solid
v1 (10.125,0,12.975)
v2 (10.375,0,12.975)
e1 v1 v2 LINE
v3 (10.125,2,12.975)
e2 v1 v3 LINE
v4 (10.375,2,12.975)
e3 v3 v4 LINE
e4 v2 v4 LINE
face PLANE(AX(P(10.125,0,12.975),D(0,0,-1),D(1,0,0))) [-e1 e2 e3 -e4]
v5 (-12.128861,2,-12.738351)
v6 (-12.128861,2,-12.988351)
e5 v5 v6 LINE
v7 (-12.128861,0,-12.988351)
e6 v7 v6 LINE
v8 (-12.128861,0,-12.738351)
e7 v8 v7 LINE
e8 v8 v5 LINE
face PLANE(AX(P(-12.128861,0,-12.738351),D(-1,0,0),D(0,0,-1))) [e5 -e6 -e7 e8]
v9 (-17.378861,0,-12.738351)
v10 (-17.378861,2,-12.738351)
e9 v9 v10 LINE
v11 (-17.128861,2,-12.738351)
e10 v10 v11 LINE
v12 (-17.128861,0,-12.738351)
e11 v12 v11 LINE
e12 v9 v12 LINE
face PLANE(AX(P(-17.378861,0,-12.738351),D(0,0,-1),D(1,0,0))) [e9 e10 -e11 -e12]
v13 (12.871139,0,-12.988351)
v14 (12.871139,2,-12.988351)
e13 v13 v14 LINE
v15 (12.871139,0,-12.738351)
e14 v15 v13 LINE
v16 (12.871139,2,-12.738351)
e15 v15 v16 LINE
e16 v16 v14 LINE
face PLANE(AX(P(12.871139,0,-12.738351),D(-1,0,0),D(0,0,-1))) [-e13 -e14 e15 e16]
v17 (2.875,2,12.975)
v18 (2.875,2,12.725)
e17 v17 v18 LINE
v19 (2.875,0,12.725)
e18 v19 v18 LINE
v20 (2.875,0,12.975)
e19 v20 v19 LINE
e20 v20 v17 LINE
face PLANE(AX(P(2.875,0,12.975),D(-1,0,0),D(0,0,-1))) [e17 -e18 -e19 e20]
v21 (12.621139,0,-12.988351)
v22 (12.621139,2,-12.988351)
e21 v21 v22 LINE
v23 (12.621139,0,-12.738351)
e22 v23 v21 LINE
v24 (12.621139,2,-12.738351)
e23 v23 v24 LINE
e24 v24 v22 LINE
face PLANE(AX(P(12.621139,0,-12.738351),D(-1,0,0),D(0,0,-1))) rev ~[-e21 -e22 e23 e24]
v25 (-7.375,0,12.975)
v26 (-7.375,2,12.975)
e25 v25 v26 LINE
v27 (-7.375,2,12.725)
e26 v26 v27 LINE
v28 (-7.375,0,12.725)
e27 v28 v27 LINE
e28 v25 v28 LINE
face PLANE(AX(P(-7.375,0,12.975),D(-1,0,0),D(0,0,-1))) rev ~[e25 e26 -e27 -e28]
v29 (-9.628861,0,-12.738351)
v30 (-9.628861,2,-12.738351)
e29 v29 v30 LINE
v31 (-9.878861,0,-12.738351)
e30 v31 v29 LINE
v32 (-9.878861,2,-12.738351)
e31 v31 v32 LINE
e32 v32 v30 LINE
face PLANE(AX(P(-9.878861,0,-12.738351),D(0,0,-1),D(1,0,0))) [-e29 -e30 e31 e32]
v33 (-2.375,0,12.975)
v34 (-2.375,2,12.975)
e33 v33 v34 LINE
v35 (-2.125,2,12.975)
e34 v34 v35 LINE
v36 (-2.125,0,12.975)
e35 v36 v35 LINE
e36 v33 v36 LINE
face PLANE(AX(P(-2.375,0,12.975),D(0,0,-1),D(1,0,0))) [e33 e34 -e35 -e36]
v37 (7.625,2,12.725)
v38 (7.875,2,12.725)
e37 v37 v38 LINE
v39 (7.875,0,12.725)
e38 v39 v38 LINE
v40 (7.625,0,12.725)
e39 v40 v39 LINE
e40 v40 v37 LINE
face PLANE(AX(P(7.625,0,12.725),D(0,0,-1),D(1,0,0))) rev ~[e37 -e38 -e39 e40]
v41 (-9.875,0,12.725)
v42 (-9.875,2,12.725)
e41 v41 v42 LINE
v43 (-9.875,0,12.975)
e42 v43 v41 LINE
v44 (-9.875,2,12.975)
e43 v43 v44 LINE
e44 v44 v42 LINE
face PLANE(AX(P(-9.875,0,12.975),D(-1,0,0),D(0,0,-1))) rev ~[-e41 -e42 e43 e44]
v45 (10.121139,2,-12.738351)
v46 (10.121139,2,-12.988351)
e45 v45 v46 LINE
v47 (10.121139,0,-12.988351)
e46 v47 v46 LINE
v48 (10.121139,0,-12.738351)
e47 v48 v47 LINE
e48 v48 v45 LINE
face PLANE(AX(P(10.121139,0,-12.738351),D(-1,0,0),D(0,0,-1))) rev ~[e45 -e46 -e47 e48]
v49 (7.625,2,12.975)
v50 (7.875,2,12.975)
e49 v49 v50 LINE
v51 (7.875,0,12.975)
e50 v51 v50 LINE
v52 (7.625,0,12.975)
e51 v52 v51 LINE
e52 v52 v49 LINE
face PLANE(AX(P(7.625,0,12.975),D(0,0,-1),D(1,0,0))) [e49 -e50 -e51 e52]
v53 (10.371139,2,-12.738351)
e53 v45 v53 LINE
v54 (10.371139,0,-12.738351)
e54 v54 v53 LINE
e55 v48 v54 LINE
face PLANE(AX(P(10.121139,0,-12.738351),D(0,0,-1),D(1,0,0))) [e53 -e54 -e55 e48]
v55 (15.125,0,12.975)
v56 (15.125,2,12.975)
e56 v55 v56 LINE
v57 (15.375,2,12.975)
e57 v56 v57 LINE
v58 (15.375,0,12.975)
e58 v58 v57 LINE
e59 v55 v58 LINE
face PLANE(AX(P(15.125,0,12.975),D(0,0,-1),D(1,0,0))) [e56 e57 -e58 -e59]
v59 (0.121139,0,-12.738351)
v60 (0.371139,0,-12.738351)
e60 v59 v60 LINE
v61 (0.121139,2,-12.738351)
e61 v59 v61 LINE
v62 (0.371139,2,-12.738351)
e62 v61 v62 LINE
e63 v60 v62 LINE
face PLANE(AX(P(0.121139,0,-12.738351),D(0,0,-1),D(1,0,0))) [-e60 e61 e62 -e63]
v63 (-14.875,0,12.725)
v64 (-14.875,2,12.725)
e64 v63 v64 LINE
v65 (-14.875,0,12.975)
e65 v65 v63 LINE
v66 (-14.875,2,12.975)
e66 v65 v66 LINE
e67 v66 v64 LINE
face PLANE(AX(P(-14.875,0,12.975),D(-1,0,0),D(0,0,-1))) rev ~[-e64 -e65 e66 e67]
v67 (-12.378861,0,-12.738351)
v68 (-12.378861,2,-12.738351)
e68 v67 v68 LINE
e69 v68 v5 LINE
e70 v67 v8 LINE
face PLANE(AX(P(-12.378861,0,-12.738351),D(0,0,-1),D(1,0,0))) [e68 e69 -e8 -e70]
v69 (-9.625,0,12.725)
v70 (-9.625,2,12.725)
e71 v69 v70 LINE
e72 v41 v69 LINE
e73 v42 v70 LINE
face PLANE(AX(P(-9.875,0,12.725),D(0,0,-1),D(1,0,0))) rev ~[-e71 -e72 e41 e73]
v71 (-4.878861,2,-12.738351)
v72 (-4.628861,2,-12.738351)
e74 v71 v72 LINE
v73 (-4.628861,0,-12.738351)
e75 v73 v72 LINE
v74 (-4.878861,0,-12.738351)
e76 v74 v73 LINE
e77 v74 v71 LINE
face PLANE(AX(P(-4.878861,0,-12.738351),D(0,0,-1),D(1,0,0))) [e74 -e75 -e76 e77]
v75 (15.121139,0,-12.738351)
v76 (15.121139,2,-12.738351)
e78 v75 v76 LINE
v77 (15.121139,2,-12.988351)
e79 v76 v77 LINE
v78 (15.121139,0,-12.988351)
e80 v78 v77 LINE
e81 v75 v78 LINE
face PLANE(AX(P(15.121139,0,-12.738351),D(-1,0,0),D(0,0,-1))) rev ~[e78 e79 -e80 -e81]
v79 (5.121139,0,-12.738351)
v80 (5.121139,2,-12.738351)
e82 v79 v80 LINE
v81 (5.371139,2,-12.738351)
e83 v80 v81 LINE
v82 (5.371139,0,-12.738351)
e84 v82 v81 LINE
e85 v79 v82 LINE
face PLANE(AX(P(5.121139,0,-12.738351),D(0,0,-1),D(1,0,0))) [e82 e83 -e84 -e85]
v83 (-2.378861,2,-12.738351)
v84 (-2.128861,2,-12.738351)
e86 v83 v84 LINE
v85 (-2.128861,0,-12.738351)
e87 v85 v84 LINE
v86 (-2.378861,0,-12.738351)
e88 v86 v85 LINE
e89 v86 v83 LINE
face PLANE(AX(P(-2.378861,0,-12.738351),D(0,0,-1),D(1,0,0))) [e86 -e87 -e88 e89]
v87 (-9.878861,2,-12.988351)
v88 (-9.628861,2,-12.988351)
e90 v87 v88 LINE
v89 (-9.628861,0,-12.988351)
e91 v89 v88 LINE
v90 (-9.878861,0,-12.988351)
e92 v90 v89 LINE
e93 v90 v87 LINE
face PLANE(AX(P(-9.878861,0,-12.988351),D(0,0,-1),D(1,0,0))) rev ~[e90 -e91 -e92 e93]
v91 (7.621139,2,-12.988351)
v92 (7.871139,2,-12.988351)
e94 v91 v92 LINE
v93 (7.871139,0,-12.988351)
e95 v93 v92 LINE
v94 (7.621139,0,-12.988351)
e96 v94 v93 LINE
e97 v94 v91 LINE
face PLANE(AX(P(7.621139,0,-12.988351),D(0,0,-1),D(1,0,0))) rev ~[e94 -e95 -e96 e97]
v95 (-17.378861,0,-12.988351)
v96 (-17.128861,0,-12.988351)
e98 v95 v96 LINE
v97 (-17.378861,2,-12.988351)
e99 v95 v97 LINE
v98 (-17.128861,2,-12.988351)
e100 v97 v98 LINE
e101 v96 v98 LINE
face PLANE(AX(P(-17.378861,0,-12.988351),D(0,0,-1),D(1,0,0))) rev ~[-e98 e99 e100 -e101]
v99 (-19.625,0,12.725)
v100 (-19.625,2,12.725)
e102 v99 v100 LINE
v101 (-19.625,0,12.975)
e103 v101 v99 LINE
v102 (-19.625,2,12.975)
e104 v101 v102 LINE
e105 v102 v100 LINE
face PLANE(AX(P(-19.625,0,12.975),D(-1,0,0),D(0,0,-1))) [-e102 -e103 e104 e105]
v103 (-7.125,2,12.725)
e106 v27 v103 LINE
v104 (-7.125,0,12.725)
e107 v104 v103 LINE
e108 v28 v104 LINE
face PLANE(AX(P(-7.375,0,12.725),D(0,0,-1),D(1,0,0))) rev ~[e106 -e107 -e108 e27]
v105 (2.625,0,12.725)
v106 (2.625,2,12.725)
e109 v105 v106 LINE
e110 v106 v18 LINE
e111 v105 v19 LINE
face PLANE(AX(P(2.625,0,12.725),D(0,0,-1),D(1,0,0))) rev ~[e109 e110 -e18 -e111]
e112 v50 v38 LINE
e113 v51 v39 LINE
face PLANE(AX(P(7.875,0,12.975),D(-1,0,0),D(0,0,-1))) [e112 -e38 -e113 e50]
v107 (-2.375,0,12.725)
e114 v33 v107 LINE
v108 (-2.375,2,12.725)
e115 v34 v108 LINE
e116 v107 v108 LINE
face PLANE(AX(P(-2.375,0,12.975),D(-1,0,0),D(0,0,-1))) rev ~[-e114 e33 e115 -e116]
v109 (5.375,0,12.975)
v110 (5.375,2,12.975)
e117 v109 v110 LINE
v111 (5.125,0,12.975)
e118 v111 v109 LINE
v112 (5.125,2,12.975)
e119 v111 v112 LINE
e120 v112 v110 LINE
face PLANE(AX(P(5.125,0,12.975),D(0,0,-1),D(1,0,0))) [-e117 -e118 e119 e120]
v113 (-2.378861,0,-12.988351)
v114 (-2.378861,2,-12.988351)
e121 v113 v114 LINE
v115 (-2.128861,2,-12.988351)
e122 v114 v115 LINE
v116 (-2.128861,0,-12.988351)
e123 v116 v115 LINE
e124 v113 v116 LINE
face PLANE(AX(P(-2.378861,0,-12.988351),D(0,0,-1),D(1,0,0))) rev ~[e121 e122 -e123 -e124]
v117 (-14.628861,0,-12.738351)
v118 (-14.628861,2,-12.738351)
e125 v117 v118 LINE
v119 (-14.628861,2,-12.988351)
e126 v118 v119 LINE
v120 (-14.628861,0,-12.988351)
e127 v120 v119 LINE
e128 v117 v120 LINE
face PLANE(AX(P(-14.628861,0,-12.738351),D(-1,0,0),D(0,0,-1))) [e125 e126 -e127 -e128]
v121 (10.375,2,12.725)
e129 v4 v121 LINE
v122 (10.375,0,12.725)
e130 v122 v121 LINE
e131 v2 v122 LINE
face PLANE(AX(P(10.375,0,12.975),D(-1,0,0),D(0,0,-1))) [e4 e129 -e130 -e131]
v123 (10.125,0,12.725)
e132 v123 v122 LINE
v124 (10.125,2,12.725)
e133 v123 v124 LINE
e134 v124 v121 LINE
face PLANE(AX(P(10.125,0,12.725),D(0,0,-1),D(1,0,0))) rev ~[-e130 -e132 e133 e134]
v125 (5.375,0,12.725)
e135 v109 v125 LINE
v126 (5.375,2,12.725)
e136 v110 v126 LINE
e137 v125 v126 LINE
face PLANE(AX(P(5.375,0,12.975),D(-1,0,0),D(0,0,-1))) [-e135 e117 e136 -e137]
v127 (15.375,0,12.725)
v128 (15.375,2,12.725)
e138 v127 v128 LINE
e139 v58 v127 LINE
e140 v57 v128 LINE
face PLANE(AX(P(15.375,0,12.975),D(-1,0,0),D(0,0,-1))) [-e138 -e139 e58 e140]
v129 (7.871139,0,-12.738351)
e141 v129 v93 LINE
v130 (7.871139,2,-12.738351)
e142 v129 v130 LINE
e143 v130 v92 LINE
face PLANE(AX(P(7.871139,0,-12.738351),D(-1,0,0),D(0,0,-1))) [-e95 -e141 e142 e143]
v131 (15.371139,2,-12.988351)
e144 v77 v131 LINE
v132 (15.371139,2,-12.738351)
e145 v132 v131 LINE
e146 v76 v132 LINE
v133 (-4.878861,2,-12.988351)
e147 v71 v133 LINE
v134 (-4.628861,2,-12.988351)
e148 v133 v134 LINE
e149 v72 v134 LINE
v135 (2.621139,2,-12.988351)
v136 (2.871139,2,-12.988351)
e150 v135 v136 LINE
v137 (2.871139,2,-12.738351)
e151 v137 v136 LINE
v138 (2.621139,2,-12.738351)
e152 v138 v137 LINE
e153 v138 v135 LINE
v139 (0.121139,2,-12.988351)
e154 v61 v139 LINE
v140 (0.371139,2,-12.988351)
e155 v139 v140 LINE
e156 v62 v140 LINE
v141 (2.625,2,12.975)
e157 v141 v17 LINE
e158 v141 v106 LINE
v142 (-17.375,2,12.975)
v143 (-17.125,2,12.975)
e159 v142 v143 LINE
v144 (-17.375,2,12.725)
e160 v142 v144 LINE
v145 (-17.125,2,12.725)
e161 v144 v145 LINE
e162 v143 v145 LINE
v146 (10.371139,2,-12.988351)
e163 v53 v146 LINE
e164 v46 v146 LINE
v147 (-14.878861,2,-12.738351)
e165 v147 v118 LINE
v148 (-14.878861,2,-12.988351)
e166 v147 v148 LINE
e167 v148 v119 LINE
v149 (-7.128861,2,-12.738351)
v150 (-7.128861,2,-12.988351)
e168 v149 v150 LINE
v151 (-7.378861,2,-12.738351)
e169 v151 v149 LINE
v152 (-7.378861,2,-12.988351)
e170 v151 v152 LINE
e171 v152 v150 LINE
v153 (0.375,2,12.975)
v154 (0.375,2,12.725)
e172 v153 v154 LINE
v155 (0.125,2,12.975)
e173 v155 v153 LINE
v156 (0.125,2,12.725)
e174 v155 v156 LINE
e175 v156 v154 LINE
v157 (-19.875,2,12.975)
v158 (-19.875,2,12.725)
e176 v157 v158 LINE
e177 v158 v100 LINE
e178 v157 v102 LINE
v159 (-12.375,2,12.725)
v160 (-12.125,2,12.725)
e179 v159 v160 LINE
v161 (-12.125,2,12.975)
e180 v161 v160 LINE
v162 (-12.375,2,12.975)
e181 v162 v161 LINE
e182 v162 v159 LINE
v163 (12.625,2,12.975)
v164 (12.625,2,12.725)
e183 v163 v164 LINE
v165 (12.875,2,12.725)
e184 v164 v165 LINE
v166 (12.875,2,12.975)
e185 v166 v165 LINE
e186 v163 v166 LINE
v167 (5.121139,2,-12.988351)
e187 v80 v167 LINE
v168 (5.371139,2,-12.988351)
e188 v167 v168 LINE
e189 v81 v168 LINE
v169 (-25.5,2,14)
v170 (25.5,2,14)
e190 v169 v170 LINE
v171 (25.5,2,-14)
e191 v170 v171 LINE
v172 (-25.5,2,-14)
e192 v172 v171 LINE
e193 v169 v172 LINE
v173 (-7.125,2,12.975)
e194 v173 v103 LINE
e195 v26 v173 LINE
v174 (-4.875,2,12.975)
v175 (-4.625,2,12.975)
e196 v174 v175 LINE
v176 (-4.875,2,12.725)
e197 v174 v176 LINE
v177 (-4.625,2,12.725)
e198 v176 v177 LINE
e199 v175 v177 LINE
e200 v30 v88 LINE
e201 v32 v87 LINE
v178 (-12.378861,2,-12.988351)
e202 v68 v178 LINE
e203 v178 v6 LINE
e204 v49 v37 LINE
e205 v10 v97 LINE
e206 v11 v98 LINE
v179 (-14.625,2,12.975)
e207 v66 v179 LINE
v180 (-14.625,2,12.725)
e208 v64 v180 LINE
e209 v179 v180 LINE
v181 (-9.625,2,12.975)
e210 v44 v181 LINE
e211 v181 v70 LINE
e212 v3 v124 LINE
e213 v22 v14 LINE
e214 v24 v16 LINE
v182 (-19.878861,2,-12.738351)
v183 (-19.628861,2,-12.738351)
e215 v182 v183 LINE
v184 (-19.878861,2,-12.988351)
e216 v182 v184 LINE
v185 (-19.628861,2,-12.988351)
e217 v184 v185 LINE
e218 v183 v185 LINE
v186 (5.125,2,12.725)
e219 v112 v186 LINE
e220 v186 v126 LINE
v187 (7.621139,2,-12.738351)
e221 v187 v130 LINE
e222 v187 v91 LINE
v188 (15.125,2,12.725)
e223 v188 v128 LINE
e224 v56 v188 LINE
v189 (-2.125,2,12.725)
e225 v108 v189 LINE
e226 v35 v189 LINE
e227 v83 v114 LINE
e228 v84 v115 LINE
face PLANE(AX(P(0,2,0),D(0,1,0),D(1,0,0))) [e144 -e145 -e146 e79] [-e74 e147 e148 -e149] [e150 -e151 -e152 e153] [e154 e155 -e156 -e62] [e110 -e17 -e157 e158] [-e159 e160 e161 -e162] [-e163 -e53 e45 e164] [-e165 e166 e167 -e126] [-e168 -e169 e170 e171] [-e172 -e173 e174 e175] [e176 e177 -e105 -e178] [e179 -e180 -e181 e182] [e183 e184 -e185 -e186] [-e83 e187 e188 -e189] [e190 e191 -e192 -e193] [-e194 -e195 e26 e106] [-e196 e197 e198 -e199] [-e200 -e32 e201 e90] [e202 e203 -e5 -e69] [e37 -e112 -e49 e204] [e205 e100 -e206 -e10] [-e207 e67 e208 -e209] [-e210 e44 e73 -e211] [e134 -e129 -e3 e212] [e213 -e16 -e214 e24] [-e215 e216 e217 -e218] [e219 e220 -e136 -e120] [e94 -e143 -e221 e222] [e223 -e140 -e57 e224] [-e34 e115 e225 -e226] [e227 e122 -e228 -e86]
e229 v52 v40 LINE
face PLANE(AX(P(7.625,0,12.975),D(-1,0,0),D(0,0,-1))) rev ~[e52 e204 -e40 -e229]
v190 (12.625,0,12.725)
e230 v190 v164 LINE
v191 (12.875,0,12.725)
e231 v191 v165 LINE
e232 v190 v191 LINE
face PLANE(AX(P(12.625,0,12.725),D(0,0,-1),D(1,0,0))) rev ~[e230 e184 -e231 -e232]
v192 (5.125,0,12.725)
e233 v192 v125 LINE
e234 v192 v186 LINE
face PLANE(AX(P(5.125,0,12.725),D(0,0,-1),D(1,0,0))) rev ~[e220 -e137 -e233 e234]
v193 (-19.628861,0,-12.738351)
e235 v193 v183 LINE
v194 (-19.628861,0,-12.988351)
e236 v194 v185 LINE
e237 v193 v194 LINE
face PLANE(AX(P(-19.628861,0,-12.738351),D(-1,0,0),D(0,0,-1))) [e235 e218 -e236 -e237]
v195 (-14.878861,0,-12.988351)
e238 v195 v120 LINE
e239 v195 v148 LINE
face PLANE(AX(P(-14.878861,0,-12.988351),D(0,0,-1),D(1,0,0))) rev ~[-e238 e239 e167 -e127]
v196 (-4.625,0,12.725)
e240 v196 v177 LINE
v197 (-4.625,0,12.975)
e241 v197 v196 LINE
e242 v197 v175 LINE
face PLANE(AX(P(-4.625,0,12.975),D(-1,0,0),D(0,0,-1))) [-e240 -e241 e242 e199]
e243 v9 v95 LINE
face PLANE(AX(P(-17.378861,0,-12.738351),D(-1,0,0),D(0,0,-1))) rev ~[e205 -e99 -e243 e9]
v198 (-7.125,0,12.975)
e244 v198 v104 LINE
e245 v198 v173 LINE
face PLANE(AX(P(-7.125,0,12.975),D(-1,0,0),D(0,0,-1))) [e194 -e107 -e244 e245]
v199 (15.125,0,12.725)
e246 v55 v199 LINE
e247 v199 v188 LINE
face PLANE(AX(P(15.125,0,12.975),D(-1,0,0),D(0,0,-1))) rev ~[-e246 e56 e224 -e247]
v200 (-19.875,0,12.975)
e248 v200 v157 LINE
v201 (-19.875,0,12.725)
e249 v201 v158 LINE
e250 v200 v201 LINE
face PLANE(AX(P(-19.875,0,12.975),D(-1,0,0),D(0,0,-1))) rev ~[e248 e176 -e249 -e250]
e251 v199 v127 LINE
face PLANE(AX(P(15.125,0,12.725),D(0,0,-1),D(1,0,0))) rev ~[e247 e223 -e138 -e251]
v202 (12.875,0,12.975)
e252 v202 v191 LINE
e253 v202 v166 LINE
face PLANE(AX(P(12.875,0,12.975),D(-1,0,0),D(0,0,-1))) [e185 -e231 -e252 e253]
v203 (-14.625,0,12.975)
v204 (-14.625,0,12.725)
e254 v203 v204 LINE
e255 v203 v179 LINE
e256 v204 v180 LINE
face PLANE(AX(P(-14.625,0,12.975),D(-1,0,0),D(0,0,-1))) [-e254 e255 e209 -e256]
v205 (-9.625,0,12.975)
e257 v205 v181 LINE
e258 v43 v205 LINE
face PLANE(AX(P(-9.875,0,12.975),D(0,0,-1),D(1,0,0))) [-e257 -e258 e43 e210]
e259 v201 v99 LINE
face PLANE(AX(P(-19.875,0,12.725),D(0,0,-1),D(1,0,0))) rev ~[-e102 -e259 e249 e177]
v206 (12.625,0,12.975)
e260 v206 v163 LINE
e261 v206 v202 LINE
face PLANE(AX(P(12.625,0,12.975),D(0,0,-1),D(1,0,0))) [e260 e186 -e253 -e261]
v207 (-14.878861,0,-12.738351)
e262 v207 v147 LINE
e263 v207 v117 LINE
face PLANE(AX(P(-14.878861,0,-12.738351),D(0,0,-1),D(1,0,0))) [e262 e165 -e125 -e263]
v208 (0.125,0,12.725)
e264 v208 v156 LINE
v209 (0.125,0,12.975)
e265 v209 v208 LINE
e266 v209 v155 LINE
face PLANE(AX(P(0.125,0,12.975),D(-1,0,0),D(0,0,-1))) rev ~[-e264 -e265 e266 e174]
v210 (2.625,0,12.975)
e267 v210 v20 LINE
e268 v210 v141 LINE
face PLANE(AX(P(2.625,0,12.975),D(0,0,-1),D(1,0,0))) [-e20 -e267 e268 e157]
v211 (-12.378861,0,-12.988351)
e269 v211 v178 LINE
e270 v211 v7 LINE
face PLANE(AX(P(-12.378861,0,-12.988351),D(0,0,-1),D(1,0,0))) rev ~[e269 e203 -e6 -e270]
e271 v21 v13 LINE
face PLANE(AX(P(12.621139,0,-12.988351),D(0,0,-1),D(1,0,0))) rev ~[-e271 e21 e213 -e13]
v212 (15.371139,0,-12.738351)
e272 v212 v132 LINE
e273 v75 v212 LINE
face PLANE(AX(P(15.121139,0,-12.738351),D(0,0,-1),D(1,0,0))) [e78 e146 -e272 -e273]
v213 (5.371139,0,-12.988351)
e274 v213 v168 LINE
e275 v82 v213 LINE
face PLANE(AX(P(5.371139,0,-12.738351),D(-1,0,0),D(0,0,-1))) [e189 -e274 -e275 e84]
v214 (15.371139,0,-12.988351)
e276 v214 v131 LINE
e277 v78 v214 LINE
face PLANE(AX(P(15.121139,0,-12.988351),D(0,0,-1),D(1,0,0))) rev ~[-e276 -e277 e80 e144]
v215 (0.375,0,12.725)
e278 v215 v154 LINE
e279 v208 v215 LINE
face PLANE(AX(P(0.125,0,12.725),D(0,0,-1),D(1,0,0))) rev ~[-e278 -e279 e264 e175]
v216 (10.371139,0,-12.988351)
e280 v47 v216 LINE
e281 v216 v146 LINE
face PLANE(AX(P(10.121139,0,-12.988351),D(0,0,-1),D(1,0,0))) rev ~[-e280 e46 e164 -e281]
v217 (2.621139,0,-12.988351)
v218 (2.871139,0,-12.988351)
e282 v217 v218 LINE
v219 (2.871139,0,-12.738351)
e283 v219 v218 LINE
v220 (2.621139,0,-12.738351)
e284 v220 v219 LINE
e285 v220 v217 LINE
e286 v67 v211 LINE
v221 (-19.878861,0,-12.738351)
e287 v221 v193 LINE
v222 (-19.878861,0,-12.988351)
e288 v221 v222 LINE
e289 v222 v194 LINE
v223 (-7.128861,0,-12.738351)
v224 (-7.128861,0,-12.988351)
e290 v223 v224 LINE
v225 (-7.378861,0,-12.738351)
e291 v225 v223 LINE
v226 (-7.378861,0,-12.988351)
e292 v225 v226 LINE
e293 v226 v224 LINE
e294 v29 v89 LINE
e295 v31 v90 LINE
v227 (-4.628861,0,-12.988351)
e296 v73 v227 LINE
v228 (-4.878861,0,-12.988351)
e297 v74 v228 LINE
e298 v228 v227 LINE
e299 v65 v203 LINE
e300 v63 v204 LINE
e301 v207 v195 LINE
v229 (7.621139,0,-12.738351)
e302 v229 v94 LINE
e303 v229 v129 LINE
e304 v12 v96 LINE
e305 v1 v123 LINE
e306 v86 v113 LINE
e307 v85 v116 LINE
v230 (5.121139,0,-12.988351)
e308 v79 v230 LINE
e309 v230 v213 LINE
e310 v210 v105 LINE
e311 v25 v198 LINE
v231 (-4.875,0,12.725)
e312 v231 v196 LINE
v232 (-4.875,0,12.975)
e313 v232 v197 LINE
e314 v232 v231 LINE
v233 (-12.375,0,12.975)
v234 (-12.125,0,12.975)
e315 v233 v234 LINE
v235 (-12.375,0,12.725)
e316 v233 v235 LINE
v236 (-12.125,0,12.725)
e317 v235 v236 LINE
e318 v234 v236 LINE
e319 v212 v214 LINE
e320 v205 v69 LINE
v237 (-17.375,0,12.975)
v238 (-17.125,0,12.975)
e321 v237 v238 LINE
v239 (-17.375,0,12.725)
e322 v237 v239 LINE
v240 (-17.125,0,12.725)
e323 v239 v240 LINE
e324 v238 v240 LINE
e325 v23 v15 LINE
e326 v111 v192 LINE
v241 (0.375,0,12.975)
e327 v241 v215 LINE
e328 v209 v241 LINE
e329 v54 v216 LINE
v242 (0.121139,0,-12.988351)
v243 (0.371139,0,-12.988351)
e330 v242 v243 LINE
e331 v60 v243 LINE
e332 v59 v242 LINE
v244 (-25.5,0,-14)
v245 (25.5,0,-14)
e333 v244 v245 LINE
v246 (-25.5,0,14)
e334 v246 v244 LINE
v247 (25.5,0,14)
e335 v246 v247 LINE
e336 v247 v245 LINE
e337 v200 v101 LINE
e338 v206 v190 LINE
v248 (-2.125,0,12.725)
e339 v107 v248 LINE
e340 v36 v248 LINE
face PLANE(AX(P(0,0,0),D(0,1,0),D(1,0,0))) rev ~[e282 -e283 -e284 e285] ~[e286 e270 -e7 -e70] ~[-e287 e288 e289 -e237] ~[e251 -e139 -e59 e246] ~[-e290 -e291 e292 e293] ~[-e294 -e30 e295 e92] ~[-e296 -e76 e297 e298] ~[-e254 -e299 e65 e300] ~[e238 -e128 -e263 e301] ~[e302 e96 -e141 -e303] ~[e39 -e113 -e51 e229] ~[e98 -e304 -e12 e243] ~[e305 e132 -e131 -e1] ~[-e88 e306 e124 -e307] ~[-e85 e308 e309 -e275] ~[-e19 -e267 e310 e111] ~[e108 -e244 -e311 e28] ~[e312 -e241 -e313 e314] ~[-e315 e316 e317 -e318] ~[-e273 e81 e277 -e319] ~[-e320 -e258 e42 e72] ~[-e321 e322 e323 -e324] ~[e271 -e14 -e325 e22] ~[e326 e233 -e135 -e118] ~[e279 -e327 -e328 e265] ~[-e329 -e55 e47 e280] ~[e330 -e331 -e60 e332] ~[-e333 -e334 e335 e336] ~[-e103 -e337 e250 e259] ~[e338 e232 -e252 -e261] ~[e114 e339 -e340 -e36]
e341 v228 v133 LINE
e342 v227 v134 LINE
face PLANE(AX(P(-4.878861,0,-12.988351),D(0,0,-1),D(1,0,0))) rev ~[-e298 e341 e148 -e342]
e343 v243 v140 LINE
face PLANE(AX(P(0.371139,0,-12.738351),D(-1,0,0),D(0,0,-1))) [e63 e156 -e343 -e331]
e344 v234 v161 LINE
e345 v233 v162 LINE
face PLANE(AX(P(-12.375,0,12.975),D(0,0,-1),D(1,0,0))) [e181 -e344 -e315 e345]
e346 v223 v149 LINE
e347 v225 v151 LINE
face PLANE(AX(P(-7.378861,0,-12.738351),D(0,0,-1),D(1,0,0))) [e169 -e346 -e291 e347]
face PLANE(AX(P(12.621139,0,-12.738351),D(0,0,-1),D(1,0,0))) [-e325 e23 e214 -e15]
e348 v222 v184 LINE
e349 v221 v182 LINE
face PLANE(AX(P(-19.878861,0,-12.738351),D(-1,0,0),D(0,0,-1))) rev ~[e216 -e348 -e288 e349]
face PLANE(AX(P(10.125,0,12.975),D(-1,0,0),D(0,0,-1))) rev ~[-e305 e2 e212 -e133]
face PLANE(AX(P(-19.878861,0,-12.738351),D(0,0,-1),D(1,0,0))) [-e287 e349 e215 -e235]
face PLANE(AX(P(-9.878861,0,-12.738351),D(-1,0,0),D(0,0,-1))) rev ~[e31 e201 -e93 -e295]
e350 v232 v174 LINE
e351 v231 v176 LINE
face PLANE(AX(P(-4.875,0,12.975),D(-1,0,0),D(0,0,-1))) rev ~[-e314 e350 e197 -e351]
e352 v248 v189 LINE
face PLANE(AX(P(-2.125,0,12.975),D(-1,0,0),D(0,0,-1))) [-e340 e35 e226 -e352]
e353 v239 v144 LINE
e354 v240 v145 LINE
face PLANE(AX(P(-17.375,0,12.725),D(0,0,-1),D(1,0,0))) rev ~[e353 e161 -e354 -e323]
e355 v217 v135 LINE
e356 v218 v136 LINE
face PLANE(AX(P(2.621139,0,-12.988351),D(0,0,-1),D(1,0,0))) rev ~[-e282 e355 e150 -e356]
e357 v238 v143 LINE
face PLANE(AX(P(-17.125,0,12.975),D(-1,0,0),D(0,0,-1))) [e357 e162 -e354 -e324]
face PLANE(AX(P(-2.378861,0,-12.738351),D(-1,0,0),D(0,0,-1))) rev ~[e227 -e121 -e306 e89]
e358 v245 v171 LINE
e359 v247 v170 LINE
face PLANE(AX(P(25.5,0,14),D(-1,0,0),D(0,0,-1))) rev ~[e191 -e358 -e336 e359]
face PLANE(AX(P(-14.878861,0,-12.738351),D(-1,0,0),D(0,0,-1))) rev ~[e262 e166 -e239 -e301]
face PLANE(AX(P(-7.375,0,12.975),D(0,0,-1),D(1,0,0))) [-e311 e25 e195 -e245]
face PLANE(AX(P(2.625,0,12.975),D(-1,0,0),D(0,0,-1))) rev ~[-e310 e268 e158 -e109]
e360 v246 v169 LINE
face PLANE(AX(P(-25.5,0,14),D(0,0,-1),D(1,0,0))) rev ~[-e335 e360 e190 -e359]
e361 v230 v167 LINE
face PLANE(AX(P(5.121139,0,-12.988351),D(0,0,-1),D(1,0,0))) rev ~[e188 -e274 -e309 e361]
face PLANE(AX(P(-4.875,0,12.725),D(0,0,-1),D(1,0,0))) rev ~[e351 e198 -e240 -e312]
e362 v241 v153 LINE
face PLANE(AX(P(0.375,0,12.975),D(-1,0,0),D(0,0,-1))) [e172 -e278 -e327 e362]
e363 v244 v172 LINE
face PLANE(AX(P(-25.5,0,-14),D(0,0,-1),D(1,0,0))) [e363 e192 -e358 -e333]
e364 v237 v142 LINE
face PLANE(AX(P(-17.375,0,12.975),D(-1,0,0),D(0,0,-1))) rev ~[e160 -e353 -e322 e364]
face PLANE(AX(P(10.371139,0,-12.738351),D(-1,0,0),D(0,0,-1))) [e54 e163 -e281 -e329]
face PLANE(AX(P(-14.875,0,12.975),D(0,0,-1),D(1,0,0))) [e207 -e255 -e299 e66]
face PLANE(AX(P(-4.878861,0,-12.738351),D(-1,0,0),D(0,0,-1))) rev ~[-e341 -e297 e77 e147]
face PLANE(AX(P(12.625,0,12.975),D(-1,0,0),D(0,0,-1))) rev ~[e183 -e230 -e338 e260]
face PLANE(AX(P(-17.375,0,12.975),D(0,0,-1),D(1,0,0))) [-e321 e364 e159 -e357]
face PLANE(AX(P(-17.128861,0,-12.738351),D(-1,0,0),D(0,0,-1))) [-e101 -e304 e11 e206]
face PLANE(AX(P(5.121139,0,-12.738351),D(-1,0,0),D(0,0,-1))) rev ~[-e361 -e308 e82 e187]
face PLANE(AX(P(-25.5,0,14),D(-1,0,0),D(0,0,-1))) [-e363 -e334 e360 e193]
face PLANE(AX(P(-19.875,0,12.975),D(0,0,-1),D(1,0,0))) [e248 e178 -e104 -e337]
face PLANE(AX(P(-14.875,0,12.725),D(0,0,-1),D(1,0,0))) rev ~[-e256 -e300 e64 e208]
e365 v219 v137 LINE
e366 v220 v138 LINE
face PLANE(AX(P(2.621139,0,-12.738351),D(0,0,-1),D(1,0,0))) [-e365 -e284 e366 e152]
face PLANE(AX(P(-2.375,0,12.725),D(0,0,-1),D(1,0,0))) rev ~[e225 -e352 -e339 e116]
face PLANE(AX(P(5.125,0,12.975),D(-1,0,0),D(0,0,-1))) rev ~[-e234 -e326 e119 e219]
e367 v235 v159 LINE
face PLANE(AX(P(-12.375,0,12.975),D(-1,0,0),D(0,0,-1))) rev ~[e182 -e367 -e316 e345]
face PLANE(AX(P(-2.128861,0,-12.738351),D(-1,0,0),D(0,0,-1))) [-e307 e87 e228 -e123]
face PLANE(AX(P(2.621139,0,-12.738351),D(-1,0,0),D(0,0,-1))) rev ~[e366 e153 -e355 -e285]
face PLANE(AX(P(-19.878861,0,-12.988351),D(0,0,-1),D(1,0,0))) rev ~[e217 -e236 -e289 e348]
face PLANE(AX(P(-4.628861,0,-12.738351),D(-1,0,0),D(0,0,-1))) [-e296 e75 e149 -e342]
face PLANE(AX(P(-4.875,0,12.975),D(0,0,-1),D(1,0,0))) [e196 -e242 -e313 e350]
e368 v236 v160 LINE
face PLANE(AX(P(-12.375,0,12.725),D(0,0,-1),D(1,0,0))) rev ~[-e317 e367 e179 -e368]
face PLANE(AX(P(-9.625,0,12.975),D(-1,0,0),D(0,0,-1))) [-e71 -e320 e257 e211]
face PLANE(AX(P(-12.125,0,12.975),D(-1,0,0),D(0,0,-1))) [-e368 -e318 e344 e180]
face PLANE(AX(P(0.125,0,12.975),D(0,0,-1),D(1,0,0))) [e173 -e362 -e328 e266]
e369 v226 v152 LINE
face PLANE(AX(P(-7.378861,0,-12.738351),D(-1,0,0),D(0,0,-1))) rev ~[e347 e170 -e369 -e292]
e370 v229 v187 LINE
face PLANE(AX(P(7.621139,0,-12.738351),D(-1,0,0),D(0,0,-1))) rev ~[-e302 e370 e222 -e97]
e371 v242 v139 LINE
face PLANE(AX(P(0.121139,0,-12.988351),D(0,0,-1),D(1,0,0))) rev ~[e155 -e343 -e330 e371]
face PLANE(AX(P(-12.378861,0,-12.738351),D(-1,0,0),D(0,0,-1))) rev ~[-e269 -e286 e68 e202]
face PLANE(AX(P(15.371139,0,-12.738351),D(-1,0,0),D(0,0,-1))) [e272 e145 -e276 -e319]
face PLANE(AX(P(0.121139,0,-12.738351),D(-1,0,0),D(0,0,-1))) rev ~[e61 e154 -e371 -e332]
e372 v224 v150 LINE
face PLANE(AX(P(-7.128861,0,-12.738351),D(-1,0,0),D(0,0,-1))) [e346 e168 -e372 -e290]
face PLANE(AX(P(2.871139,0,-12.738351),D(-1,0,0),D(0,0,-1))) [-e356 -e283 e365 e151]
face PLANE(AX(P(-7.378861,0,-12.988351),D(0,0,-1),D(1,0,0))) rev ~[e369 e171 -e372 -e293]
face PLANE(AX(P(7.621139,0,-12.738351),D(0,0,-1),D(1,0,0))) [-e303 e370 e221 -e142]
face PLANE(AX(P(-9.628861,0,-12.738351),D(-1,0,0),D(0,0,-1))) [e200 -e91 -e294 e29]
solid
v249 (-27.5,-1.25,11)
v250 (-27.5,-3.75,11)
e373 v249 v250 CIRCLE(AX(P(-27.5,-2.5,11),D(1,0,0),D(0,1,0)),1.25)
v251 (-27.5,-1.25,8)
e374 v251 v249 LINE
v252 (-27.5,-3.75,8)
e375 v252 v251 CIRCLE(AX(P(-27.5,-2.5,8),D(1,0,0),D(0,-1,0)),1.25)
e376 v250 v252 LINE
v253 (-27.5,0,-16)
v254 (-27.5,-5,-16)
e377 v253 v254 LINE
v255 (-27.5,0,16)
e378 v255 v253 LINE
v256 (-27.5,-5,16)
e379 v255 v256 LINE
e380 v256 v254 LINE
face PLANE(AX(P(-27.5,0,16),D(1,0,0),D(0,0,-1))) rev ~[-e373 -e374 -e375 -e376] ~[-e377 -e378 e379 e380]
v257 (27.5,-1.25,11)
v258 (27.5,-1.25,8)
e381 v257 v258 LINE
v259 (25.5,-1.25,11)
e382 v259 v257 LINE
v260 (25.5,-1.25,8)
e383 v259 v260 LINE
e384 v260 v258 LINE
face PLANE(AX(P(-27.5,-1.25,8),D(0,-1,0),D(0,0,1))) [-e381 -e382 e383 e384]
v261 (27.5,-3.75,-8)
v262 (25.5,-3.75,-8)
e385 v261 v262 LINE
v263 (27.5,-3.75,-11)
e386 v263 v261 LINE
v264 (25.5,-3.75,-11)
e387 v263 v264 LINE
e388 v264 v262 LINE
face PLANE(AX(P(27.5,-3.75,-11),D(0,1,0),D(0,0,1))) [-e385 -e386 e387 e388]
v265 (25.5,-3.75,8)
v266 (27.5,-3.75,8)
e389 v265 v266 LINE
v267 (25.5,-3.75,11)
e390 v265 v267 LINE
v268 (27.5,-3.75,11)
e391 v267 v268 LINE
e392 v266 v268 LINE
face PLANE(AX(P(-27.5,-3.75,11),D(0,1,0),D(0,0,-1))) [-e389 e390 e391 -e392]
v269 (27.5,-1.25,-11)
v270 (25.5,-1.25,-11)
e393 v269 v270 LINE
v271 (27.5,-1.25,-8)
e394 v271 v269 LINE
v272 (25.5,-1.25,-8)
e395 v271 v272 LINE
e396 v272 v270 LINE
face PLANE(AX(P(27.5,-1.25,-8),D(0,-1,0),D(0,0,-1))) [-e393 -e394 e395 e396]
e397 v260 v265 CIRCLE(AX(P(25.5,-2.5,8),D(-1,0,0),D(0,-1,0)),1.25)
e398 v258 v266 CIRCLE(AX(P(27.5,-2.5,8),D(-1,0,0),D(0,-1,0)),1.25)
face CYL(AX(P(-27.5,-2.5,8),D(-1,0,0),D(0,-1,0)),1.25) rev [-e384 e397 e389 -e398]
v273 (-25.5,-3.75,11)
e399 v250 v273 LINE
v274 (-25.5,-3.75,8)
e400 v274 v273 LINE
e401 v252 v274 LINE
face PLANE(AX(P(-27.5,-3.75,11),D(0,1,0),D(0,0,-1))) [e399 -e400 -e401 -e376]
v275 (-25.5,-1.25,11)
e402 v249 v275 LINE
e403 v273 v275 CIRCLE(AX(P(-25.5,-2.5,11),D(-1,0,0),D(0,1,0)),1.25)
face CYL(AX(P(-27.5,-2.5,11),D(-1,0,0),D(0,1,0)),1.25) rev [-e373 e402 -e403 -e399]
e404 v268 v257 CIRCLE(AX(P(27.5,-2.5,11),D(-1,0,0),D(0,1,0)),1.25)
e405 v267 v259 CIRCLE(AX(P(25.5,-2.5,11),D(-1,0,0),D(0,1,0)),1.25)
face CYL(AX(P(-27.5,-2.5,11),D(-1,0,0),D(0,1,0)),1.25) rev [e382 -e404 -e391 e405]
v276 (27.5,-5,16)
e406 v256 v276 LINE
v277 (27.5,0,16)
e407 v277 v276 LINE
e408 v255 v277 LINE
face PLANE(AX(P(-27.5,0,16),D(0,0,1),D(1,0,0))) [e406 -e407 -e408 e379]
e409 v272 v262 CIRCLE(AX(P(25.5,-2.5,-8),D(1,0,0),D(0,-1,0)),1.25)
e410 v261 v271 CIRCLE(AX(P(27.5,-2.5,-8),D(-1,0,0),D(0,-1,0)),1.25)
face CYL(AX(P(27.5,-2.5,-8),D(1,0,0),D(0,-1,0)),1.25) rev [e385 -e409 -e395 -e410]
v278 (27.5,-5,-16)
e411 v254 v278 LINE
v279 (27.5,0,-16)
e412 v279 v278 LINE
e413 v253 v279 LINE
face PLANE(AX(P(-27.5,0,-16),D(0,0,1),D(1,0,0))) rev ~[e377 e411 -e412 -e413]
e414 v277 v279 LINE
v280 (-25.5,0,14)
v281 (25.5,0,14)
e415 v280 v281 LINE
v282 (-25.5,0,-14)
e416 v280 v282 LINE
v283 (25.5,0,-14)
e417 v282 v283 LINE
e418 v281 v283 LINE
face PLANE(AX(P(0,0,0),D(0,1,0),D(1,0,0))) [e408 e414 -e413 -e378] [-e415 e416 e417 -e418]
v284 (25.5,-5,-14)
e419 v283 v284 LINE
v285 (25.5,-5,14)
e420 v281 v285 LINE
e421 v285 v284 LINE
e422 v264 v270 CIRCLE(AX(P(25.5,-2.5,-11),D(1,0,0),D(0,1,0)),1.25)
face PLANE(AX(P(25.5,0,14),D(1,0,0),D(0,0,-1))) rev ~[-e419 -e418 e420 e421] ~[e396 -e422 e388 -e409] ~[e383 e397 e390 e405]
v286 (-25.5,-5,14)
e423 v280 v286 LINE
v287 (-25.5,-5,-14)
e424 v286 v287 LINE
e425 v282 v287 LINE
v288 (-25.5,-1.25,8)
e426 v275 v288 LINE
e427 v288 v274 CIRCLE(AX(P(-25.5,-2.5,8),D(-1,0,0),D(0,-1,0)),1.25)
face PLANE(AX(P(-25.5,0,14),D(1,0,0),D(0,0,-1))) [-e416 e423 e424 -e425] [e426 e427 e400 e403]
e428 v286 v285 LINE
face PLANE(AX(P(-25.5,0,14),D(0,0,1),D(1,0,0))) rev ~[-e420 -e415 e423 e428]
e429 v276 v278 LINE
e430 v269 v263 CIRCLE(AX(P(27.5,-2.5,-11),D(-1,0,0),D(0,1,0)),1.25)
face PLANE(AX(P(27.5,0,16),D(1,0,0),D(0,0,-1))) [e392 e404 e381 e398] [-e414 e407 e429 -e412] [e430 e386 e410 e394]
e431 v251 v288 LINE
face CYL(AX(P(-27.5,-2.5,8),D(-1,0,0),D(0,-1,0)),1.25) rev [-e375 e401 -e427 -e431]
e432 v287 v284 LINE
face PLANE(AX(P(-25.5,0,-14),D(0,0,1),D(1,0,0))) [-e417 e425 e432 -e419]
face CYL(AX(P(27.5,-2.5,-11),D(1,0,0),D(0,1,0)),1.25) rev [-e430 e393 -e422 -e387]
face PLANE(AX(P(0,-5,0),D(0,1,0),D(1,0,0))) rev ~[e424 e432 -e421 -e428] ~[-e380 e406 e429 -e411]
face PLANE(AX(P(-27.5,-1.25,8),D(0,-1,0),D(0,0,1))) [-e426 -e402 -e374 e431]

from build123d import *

# Parameters (mm, degrees)
CROQUIS1_W              = 51
CROQUIS1_H              = 28
CROQUIS1_W_2            = 0.25
CROQUIS1_H_2            = 0.25
SALIENTE_EXTRUIR1_DEPTH = 2
CROQUIS1_3_W            = 55
CROQUIS1_3_H            = 32
SALIENTE_EXTRUIR2_DEPTH = 5
CORTAR_EXTRUIR1_DEPTH   = 70
CORTAR_EXTRUIR2_DEPTH   = 5


with BuildPart() as part:
    # Croquis1 → Saliente-Extruir1 (new body)
    with BuildSketch(Plane(origin=(0, 0, 0), x_dir=(1, 0, 0), z_dir=(0, 1, 0))):
        Rectangle(CROQUIS1_W, CROQUIS1_H)
        with Locations((-19.75, -12.85)):
            Rectangle(CROQUIS1_W_2, CROQUIS1_H_2, mode=Mode.SUBTRACT)
        with Locations((-17.25, -12.85)):
            Rectangle(CROQUIS1_W_2, CROQUIS1_H_2, mode=Mode.SUBTRACT)
        with Locations((-14.75, -12.85)):
            Rectangle(CROQUIS1_W_2, CROQUIS1_H_2, mode=Mode.SUBTRACT)
        with Locations((-12.25, -12.85)):
            Rectangle(CROQUIS1_W_2, CROQUIS1_H_2, mode=Mode.SUBTRACT)
        with Locations((-9.75, -12.85)):
            Rectangle(CROQUIS1_W_2, CROQUIS1_H_2, mode=Mode.SUBTRACT)
        with Locations((-7.25, -12.85)):
            Rectangle(CROQUIS1_W_2, CROQUIS1_H_2, mode=Mode.SUBTRACT)
        with Locations((-4.75, -12.85)):
            Rectangle(CROQUIS1_W_2, CROQUIS1_H_2, mode=Mode.SUBTRACT)
        with Locations((-2.25, -12.85)):
            Rectangle(CROQUIS1_W_2, CROQUIS1_H_2, mode=Mode.SUBTRACT)
        with Locations((0.25, -12.85)):
            Rectangle(CROQUIS1_W_2, CROQUIS1_H_2, mode=Mode.SUBTRACT)
        with Locations((2.75, -12.85)):
            Rectangle(CROQUIS1_W_2, CROQUIS1_H_2, mode=Mode.SUBTRACT)
        with Locations((5.25, -12.85)):
            Rectangle(CROQUIS1_W_2, CROQUIS1_H_2, mode=Mode.SUBTRACT)
        with Locations((7.75, -12.85)):
            Rectangle(CROQUIS1_W_2, CROQUIS1_H_2, mode=Mode.SUBTRACT)
        with Locations((10.25, -12.85)):
            Rectangle(CROQUIS1_W_2, CROQUIS1_H_2, mode=Mode.SUBTRACT)
        with Locations((12.75, -12.85)):
            Rectangle(CROQUIS1_W_2, CROQUIS1_H_2, mode=Mode.SUBTRACT)
        with Locations((15.25, -12.85)):
            Rectangle(CROQUIS1_W_2, CROQUIS1_H_2, mode=Mode.SUBTRACT)
        with Locations((15.246139204, 12.863350571)):
            Rectangle(CROQUIS1_W_2, CROQUIS1_H_2, mode=Mode.SUBTRACT)
        with Locations((-19.753860796, 12.863350571)):
            Rectangle(CROQUIS1_W_2, CROQUIS1_H_2, mode=Mode.SUBTRACT)
        with Locations((-17.253860796, 12.863350571)):
            Rectangle(CROQUIS1_W_2, CROQUIS1_H_2, mode=Mode.SUBTRACT)
        with Locations((-14.753860796, 12.863350571)):
            Rectangle(CROQUIS1_W_2, CROQUIS1_H_2, mode=Mode.SUBTRACT)
        with Locations((-12.253860796, 12.863350571)):
            Rectangle(CROQUIS1_W_2, CROQUIS1_H_2, mode=Mode.SUBTRACT)
        with Locations((-9.753860796, 12.863350571)):
            Rectangle(CROQUIS1_W_2, CROQUIS1_H_2, mode=Mode.SUBTRACT)
        with Locations((-7.253860796, 12.863350571)):
            Rectangle(CROQUIS1_W_2, CROQUIS1_H_2, mode=Mode.SUBTRACT)
        with Locations((-4.753860796, 12.863350571)):
            Rectangle(CROQUIS1_W_2, CROQUIS1_H_2, mode=Mode.SUBTRACT)
        with Locations((-2.253860796, 12.863350571)):
            Rectangle(CROQUIS1_W_2, CROQUIS1_H_2, mode=Mode.SUBTRACT)
        with Locations((0.246139204, 12.863350571)):
            Rectangle(CROQUIS1_W_2, CROQUIS1_H_2, mode=Mode.SUBTRACT)
        with Locations((2.746139204, 12.863350571)):
            Rectangle(CROQUIS1_W_2, CROQUIS1_H_2, mode=Mode.SUBTRACT)
        with Locations((5.246139204, 12.863350571)):
            Rectangle(CROQUIS1_W_2, CROQUIS1_H_2, mode=Mode.SUBTRACT)
        with Locations((7.746139204, 12.863350571)):
            Rectangle(CROQUIS1_W_2, CROQUIS1_H_2, mode=Mode.SUBTRACT)
        with Locations((10.246139204, 12.863350571)):
            Rectangle(CROQUIS1_W_2, CROQUIS1_H_2, mode=Mode.SUBTRACT)
        with Locations((12.746139204, 12.863350571)):
            Rectangle(CROQUIS1_W_2, CROQUIS1_H_2, mode=Mode.SUBTRACT)
    extrude(amount=SALIENTE_EXTRUIR1_DEPTH)


with BuildPart() as body_2:
    # Croquis1<3> → Saliente-Extruir2 (new body)
    with BuildSketch(Plane(origin=(0, 0, 0), x_dir=(1, 0, 0), z_dir=(0, 1, 0))):
        Rectangle(CROQUIS1_3_W, CROQUIS1_3_H)
        Polygon((25.5, 14), (25.5, -14), (16.5, -14), (-21, -14), (-25.5, -14), (-25.5, 14), (-21, 14), (16.5, 14), align=None, mode=Mode.SUBTRACT)
    extrude(amount=-SALIENTE_EXTRUIR2_DEPTH)

    # Croquis2 → Cortar-Extruir1 (cut)
    with BuildSketch(Plane.ZY.offset(27.5)):
        with BuildLine():
            Line((8, -1.25), (11, -1.25))
            ThreePointArc((11, -1.25), (12.25, -2.5), (11, -3.75))
            Line((11, -3.75), (8, -3.75))
            ThreePointArc((8, -3.75), (6.75, -2.5), (8, -1.25))
        make_face()
    extrude(amount=-CORTAR_EXTRUIR1_DEPTH, mode=Mode.SUBTRACT)

    # Croquis3 → Cortar-Extruir2 (cut)
    with BuildSketch(Plane(origin=(27.5, 0, 0), x_dir=(0, 0, -1), z_dir=(1, 0, 0))):
        with BuildLine():
            Line((8, -1.25), (11, -1.25))
            ThreePointArc((11, -1.25), (12.25, -2.5), (11, -3.75))
            Line((11, -3.75), (8, -3.75))
            ThreePointArc((8, -3.75), (6.75, -2.5), (8, -1.25))
        make_face()
    extrude(amount=-CORTAR_EXTRUIR2_DEPTH, mode=Mode.SUBTRACT)


solid = Compound([part.part, body_2.part])
